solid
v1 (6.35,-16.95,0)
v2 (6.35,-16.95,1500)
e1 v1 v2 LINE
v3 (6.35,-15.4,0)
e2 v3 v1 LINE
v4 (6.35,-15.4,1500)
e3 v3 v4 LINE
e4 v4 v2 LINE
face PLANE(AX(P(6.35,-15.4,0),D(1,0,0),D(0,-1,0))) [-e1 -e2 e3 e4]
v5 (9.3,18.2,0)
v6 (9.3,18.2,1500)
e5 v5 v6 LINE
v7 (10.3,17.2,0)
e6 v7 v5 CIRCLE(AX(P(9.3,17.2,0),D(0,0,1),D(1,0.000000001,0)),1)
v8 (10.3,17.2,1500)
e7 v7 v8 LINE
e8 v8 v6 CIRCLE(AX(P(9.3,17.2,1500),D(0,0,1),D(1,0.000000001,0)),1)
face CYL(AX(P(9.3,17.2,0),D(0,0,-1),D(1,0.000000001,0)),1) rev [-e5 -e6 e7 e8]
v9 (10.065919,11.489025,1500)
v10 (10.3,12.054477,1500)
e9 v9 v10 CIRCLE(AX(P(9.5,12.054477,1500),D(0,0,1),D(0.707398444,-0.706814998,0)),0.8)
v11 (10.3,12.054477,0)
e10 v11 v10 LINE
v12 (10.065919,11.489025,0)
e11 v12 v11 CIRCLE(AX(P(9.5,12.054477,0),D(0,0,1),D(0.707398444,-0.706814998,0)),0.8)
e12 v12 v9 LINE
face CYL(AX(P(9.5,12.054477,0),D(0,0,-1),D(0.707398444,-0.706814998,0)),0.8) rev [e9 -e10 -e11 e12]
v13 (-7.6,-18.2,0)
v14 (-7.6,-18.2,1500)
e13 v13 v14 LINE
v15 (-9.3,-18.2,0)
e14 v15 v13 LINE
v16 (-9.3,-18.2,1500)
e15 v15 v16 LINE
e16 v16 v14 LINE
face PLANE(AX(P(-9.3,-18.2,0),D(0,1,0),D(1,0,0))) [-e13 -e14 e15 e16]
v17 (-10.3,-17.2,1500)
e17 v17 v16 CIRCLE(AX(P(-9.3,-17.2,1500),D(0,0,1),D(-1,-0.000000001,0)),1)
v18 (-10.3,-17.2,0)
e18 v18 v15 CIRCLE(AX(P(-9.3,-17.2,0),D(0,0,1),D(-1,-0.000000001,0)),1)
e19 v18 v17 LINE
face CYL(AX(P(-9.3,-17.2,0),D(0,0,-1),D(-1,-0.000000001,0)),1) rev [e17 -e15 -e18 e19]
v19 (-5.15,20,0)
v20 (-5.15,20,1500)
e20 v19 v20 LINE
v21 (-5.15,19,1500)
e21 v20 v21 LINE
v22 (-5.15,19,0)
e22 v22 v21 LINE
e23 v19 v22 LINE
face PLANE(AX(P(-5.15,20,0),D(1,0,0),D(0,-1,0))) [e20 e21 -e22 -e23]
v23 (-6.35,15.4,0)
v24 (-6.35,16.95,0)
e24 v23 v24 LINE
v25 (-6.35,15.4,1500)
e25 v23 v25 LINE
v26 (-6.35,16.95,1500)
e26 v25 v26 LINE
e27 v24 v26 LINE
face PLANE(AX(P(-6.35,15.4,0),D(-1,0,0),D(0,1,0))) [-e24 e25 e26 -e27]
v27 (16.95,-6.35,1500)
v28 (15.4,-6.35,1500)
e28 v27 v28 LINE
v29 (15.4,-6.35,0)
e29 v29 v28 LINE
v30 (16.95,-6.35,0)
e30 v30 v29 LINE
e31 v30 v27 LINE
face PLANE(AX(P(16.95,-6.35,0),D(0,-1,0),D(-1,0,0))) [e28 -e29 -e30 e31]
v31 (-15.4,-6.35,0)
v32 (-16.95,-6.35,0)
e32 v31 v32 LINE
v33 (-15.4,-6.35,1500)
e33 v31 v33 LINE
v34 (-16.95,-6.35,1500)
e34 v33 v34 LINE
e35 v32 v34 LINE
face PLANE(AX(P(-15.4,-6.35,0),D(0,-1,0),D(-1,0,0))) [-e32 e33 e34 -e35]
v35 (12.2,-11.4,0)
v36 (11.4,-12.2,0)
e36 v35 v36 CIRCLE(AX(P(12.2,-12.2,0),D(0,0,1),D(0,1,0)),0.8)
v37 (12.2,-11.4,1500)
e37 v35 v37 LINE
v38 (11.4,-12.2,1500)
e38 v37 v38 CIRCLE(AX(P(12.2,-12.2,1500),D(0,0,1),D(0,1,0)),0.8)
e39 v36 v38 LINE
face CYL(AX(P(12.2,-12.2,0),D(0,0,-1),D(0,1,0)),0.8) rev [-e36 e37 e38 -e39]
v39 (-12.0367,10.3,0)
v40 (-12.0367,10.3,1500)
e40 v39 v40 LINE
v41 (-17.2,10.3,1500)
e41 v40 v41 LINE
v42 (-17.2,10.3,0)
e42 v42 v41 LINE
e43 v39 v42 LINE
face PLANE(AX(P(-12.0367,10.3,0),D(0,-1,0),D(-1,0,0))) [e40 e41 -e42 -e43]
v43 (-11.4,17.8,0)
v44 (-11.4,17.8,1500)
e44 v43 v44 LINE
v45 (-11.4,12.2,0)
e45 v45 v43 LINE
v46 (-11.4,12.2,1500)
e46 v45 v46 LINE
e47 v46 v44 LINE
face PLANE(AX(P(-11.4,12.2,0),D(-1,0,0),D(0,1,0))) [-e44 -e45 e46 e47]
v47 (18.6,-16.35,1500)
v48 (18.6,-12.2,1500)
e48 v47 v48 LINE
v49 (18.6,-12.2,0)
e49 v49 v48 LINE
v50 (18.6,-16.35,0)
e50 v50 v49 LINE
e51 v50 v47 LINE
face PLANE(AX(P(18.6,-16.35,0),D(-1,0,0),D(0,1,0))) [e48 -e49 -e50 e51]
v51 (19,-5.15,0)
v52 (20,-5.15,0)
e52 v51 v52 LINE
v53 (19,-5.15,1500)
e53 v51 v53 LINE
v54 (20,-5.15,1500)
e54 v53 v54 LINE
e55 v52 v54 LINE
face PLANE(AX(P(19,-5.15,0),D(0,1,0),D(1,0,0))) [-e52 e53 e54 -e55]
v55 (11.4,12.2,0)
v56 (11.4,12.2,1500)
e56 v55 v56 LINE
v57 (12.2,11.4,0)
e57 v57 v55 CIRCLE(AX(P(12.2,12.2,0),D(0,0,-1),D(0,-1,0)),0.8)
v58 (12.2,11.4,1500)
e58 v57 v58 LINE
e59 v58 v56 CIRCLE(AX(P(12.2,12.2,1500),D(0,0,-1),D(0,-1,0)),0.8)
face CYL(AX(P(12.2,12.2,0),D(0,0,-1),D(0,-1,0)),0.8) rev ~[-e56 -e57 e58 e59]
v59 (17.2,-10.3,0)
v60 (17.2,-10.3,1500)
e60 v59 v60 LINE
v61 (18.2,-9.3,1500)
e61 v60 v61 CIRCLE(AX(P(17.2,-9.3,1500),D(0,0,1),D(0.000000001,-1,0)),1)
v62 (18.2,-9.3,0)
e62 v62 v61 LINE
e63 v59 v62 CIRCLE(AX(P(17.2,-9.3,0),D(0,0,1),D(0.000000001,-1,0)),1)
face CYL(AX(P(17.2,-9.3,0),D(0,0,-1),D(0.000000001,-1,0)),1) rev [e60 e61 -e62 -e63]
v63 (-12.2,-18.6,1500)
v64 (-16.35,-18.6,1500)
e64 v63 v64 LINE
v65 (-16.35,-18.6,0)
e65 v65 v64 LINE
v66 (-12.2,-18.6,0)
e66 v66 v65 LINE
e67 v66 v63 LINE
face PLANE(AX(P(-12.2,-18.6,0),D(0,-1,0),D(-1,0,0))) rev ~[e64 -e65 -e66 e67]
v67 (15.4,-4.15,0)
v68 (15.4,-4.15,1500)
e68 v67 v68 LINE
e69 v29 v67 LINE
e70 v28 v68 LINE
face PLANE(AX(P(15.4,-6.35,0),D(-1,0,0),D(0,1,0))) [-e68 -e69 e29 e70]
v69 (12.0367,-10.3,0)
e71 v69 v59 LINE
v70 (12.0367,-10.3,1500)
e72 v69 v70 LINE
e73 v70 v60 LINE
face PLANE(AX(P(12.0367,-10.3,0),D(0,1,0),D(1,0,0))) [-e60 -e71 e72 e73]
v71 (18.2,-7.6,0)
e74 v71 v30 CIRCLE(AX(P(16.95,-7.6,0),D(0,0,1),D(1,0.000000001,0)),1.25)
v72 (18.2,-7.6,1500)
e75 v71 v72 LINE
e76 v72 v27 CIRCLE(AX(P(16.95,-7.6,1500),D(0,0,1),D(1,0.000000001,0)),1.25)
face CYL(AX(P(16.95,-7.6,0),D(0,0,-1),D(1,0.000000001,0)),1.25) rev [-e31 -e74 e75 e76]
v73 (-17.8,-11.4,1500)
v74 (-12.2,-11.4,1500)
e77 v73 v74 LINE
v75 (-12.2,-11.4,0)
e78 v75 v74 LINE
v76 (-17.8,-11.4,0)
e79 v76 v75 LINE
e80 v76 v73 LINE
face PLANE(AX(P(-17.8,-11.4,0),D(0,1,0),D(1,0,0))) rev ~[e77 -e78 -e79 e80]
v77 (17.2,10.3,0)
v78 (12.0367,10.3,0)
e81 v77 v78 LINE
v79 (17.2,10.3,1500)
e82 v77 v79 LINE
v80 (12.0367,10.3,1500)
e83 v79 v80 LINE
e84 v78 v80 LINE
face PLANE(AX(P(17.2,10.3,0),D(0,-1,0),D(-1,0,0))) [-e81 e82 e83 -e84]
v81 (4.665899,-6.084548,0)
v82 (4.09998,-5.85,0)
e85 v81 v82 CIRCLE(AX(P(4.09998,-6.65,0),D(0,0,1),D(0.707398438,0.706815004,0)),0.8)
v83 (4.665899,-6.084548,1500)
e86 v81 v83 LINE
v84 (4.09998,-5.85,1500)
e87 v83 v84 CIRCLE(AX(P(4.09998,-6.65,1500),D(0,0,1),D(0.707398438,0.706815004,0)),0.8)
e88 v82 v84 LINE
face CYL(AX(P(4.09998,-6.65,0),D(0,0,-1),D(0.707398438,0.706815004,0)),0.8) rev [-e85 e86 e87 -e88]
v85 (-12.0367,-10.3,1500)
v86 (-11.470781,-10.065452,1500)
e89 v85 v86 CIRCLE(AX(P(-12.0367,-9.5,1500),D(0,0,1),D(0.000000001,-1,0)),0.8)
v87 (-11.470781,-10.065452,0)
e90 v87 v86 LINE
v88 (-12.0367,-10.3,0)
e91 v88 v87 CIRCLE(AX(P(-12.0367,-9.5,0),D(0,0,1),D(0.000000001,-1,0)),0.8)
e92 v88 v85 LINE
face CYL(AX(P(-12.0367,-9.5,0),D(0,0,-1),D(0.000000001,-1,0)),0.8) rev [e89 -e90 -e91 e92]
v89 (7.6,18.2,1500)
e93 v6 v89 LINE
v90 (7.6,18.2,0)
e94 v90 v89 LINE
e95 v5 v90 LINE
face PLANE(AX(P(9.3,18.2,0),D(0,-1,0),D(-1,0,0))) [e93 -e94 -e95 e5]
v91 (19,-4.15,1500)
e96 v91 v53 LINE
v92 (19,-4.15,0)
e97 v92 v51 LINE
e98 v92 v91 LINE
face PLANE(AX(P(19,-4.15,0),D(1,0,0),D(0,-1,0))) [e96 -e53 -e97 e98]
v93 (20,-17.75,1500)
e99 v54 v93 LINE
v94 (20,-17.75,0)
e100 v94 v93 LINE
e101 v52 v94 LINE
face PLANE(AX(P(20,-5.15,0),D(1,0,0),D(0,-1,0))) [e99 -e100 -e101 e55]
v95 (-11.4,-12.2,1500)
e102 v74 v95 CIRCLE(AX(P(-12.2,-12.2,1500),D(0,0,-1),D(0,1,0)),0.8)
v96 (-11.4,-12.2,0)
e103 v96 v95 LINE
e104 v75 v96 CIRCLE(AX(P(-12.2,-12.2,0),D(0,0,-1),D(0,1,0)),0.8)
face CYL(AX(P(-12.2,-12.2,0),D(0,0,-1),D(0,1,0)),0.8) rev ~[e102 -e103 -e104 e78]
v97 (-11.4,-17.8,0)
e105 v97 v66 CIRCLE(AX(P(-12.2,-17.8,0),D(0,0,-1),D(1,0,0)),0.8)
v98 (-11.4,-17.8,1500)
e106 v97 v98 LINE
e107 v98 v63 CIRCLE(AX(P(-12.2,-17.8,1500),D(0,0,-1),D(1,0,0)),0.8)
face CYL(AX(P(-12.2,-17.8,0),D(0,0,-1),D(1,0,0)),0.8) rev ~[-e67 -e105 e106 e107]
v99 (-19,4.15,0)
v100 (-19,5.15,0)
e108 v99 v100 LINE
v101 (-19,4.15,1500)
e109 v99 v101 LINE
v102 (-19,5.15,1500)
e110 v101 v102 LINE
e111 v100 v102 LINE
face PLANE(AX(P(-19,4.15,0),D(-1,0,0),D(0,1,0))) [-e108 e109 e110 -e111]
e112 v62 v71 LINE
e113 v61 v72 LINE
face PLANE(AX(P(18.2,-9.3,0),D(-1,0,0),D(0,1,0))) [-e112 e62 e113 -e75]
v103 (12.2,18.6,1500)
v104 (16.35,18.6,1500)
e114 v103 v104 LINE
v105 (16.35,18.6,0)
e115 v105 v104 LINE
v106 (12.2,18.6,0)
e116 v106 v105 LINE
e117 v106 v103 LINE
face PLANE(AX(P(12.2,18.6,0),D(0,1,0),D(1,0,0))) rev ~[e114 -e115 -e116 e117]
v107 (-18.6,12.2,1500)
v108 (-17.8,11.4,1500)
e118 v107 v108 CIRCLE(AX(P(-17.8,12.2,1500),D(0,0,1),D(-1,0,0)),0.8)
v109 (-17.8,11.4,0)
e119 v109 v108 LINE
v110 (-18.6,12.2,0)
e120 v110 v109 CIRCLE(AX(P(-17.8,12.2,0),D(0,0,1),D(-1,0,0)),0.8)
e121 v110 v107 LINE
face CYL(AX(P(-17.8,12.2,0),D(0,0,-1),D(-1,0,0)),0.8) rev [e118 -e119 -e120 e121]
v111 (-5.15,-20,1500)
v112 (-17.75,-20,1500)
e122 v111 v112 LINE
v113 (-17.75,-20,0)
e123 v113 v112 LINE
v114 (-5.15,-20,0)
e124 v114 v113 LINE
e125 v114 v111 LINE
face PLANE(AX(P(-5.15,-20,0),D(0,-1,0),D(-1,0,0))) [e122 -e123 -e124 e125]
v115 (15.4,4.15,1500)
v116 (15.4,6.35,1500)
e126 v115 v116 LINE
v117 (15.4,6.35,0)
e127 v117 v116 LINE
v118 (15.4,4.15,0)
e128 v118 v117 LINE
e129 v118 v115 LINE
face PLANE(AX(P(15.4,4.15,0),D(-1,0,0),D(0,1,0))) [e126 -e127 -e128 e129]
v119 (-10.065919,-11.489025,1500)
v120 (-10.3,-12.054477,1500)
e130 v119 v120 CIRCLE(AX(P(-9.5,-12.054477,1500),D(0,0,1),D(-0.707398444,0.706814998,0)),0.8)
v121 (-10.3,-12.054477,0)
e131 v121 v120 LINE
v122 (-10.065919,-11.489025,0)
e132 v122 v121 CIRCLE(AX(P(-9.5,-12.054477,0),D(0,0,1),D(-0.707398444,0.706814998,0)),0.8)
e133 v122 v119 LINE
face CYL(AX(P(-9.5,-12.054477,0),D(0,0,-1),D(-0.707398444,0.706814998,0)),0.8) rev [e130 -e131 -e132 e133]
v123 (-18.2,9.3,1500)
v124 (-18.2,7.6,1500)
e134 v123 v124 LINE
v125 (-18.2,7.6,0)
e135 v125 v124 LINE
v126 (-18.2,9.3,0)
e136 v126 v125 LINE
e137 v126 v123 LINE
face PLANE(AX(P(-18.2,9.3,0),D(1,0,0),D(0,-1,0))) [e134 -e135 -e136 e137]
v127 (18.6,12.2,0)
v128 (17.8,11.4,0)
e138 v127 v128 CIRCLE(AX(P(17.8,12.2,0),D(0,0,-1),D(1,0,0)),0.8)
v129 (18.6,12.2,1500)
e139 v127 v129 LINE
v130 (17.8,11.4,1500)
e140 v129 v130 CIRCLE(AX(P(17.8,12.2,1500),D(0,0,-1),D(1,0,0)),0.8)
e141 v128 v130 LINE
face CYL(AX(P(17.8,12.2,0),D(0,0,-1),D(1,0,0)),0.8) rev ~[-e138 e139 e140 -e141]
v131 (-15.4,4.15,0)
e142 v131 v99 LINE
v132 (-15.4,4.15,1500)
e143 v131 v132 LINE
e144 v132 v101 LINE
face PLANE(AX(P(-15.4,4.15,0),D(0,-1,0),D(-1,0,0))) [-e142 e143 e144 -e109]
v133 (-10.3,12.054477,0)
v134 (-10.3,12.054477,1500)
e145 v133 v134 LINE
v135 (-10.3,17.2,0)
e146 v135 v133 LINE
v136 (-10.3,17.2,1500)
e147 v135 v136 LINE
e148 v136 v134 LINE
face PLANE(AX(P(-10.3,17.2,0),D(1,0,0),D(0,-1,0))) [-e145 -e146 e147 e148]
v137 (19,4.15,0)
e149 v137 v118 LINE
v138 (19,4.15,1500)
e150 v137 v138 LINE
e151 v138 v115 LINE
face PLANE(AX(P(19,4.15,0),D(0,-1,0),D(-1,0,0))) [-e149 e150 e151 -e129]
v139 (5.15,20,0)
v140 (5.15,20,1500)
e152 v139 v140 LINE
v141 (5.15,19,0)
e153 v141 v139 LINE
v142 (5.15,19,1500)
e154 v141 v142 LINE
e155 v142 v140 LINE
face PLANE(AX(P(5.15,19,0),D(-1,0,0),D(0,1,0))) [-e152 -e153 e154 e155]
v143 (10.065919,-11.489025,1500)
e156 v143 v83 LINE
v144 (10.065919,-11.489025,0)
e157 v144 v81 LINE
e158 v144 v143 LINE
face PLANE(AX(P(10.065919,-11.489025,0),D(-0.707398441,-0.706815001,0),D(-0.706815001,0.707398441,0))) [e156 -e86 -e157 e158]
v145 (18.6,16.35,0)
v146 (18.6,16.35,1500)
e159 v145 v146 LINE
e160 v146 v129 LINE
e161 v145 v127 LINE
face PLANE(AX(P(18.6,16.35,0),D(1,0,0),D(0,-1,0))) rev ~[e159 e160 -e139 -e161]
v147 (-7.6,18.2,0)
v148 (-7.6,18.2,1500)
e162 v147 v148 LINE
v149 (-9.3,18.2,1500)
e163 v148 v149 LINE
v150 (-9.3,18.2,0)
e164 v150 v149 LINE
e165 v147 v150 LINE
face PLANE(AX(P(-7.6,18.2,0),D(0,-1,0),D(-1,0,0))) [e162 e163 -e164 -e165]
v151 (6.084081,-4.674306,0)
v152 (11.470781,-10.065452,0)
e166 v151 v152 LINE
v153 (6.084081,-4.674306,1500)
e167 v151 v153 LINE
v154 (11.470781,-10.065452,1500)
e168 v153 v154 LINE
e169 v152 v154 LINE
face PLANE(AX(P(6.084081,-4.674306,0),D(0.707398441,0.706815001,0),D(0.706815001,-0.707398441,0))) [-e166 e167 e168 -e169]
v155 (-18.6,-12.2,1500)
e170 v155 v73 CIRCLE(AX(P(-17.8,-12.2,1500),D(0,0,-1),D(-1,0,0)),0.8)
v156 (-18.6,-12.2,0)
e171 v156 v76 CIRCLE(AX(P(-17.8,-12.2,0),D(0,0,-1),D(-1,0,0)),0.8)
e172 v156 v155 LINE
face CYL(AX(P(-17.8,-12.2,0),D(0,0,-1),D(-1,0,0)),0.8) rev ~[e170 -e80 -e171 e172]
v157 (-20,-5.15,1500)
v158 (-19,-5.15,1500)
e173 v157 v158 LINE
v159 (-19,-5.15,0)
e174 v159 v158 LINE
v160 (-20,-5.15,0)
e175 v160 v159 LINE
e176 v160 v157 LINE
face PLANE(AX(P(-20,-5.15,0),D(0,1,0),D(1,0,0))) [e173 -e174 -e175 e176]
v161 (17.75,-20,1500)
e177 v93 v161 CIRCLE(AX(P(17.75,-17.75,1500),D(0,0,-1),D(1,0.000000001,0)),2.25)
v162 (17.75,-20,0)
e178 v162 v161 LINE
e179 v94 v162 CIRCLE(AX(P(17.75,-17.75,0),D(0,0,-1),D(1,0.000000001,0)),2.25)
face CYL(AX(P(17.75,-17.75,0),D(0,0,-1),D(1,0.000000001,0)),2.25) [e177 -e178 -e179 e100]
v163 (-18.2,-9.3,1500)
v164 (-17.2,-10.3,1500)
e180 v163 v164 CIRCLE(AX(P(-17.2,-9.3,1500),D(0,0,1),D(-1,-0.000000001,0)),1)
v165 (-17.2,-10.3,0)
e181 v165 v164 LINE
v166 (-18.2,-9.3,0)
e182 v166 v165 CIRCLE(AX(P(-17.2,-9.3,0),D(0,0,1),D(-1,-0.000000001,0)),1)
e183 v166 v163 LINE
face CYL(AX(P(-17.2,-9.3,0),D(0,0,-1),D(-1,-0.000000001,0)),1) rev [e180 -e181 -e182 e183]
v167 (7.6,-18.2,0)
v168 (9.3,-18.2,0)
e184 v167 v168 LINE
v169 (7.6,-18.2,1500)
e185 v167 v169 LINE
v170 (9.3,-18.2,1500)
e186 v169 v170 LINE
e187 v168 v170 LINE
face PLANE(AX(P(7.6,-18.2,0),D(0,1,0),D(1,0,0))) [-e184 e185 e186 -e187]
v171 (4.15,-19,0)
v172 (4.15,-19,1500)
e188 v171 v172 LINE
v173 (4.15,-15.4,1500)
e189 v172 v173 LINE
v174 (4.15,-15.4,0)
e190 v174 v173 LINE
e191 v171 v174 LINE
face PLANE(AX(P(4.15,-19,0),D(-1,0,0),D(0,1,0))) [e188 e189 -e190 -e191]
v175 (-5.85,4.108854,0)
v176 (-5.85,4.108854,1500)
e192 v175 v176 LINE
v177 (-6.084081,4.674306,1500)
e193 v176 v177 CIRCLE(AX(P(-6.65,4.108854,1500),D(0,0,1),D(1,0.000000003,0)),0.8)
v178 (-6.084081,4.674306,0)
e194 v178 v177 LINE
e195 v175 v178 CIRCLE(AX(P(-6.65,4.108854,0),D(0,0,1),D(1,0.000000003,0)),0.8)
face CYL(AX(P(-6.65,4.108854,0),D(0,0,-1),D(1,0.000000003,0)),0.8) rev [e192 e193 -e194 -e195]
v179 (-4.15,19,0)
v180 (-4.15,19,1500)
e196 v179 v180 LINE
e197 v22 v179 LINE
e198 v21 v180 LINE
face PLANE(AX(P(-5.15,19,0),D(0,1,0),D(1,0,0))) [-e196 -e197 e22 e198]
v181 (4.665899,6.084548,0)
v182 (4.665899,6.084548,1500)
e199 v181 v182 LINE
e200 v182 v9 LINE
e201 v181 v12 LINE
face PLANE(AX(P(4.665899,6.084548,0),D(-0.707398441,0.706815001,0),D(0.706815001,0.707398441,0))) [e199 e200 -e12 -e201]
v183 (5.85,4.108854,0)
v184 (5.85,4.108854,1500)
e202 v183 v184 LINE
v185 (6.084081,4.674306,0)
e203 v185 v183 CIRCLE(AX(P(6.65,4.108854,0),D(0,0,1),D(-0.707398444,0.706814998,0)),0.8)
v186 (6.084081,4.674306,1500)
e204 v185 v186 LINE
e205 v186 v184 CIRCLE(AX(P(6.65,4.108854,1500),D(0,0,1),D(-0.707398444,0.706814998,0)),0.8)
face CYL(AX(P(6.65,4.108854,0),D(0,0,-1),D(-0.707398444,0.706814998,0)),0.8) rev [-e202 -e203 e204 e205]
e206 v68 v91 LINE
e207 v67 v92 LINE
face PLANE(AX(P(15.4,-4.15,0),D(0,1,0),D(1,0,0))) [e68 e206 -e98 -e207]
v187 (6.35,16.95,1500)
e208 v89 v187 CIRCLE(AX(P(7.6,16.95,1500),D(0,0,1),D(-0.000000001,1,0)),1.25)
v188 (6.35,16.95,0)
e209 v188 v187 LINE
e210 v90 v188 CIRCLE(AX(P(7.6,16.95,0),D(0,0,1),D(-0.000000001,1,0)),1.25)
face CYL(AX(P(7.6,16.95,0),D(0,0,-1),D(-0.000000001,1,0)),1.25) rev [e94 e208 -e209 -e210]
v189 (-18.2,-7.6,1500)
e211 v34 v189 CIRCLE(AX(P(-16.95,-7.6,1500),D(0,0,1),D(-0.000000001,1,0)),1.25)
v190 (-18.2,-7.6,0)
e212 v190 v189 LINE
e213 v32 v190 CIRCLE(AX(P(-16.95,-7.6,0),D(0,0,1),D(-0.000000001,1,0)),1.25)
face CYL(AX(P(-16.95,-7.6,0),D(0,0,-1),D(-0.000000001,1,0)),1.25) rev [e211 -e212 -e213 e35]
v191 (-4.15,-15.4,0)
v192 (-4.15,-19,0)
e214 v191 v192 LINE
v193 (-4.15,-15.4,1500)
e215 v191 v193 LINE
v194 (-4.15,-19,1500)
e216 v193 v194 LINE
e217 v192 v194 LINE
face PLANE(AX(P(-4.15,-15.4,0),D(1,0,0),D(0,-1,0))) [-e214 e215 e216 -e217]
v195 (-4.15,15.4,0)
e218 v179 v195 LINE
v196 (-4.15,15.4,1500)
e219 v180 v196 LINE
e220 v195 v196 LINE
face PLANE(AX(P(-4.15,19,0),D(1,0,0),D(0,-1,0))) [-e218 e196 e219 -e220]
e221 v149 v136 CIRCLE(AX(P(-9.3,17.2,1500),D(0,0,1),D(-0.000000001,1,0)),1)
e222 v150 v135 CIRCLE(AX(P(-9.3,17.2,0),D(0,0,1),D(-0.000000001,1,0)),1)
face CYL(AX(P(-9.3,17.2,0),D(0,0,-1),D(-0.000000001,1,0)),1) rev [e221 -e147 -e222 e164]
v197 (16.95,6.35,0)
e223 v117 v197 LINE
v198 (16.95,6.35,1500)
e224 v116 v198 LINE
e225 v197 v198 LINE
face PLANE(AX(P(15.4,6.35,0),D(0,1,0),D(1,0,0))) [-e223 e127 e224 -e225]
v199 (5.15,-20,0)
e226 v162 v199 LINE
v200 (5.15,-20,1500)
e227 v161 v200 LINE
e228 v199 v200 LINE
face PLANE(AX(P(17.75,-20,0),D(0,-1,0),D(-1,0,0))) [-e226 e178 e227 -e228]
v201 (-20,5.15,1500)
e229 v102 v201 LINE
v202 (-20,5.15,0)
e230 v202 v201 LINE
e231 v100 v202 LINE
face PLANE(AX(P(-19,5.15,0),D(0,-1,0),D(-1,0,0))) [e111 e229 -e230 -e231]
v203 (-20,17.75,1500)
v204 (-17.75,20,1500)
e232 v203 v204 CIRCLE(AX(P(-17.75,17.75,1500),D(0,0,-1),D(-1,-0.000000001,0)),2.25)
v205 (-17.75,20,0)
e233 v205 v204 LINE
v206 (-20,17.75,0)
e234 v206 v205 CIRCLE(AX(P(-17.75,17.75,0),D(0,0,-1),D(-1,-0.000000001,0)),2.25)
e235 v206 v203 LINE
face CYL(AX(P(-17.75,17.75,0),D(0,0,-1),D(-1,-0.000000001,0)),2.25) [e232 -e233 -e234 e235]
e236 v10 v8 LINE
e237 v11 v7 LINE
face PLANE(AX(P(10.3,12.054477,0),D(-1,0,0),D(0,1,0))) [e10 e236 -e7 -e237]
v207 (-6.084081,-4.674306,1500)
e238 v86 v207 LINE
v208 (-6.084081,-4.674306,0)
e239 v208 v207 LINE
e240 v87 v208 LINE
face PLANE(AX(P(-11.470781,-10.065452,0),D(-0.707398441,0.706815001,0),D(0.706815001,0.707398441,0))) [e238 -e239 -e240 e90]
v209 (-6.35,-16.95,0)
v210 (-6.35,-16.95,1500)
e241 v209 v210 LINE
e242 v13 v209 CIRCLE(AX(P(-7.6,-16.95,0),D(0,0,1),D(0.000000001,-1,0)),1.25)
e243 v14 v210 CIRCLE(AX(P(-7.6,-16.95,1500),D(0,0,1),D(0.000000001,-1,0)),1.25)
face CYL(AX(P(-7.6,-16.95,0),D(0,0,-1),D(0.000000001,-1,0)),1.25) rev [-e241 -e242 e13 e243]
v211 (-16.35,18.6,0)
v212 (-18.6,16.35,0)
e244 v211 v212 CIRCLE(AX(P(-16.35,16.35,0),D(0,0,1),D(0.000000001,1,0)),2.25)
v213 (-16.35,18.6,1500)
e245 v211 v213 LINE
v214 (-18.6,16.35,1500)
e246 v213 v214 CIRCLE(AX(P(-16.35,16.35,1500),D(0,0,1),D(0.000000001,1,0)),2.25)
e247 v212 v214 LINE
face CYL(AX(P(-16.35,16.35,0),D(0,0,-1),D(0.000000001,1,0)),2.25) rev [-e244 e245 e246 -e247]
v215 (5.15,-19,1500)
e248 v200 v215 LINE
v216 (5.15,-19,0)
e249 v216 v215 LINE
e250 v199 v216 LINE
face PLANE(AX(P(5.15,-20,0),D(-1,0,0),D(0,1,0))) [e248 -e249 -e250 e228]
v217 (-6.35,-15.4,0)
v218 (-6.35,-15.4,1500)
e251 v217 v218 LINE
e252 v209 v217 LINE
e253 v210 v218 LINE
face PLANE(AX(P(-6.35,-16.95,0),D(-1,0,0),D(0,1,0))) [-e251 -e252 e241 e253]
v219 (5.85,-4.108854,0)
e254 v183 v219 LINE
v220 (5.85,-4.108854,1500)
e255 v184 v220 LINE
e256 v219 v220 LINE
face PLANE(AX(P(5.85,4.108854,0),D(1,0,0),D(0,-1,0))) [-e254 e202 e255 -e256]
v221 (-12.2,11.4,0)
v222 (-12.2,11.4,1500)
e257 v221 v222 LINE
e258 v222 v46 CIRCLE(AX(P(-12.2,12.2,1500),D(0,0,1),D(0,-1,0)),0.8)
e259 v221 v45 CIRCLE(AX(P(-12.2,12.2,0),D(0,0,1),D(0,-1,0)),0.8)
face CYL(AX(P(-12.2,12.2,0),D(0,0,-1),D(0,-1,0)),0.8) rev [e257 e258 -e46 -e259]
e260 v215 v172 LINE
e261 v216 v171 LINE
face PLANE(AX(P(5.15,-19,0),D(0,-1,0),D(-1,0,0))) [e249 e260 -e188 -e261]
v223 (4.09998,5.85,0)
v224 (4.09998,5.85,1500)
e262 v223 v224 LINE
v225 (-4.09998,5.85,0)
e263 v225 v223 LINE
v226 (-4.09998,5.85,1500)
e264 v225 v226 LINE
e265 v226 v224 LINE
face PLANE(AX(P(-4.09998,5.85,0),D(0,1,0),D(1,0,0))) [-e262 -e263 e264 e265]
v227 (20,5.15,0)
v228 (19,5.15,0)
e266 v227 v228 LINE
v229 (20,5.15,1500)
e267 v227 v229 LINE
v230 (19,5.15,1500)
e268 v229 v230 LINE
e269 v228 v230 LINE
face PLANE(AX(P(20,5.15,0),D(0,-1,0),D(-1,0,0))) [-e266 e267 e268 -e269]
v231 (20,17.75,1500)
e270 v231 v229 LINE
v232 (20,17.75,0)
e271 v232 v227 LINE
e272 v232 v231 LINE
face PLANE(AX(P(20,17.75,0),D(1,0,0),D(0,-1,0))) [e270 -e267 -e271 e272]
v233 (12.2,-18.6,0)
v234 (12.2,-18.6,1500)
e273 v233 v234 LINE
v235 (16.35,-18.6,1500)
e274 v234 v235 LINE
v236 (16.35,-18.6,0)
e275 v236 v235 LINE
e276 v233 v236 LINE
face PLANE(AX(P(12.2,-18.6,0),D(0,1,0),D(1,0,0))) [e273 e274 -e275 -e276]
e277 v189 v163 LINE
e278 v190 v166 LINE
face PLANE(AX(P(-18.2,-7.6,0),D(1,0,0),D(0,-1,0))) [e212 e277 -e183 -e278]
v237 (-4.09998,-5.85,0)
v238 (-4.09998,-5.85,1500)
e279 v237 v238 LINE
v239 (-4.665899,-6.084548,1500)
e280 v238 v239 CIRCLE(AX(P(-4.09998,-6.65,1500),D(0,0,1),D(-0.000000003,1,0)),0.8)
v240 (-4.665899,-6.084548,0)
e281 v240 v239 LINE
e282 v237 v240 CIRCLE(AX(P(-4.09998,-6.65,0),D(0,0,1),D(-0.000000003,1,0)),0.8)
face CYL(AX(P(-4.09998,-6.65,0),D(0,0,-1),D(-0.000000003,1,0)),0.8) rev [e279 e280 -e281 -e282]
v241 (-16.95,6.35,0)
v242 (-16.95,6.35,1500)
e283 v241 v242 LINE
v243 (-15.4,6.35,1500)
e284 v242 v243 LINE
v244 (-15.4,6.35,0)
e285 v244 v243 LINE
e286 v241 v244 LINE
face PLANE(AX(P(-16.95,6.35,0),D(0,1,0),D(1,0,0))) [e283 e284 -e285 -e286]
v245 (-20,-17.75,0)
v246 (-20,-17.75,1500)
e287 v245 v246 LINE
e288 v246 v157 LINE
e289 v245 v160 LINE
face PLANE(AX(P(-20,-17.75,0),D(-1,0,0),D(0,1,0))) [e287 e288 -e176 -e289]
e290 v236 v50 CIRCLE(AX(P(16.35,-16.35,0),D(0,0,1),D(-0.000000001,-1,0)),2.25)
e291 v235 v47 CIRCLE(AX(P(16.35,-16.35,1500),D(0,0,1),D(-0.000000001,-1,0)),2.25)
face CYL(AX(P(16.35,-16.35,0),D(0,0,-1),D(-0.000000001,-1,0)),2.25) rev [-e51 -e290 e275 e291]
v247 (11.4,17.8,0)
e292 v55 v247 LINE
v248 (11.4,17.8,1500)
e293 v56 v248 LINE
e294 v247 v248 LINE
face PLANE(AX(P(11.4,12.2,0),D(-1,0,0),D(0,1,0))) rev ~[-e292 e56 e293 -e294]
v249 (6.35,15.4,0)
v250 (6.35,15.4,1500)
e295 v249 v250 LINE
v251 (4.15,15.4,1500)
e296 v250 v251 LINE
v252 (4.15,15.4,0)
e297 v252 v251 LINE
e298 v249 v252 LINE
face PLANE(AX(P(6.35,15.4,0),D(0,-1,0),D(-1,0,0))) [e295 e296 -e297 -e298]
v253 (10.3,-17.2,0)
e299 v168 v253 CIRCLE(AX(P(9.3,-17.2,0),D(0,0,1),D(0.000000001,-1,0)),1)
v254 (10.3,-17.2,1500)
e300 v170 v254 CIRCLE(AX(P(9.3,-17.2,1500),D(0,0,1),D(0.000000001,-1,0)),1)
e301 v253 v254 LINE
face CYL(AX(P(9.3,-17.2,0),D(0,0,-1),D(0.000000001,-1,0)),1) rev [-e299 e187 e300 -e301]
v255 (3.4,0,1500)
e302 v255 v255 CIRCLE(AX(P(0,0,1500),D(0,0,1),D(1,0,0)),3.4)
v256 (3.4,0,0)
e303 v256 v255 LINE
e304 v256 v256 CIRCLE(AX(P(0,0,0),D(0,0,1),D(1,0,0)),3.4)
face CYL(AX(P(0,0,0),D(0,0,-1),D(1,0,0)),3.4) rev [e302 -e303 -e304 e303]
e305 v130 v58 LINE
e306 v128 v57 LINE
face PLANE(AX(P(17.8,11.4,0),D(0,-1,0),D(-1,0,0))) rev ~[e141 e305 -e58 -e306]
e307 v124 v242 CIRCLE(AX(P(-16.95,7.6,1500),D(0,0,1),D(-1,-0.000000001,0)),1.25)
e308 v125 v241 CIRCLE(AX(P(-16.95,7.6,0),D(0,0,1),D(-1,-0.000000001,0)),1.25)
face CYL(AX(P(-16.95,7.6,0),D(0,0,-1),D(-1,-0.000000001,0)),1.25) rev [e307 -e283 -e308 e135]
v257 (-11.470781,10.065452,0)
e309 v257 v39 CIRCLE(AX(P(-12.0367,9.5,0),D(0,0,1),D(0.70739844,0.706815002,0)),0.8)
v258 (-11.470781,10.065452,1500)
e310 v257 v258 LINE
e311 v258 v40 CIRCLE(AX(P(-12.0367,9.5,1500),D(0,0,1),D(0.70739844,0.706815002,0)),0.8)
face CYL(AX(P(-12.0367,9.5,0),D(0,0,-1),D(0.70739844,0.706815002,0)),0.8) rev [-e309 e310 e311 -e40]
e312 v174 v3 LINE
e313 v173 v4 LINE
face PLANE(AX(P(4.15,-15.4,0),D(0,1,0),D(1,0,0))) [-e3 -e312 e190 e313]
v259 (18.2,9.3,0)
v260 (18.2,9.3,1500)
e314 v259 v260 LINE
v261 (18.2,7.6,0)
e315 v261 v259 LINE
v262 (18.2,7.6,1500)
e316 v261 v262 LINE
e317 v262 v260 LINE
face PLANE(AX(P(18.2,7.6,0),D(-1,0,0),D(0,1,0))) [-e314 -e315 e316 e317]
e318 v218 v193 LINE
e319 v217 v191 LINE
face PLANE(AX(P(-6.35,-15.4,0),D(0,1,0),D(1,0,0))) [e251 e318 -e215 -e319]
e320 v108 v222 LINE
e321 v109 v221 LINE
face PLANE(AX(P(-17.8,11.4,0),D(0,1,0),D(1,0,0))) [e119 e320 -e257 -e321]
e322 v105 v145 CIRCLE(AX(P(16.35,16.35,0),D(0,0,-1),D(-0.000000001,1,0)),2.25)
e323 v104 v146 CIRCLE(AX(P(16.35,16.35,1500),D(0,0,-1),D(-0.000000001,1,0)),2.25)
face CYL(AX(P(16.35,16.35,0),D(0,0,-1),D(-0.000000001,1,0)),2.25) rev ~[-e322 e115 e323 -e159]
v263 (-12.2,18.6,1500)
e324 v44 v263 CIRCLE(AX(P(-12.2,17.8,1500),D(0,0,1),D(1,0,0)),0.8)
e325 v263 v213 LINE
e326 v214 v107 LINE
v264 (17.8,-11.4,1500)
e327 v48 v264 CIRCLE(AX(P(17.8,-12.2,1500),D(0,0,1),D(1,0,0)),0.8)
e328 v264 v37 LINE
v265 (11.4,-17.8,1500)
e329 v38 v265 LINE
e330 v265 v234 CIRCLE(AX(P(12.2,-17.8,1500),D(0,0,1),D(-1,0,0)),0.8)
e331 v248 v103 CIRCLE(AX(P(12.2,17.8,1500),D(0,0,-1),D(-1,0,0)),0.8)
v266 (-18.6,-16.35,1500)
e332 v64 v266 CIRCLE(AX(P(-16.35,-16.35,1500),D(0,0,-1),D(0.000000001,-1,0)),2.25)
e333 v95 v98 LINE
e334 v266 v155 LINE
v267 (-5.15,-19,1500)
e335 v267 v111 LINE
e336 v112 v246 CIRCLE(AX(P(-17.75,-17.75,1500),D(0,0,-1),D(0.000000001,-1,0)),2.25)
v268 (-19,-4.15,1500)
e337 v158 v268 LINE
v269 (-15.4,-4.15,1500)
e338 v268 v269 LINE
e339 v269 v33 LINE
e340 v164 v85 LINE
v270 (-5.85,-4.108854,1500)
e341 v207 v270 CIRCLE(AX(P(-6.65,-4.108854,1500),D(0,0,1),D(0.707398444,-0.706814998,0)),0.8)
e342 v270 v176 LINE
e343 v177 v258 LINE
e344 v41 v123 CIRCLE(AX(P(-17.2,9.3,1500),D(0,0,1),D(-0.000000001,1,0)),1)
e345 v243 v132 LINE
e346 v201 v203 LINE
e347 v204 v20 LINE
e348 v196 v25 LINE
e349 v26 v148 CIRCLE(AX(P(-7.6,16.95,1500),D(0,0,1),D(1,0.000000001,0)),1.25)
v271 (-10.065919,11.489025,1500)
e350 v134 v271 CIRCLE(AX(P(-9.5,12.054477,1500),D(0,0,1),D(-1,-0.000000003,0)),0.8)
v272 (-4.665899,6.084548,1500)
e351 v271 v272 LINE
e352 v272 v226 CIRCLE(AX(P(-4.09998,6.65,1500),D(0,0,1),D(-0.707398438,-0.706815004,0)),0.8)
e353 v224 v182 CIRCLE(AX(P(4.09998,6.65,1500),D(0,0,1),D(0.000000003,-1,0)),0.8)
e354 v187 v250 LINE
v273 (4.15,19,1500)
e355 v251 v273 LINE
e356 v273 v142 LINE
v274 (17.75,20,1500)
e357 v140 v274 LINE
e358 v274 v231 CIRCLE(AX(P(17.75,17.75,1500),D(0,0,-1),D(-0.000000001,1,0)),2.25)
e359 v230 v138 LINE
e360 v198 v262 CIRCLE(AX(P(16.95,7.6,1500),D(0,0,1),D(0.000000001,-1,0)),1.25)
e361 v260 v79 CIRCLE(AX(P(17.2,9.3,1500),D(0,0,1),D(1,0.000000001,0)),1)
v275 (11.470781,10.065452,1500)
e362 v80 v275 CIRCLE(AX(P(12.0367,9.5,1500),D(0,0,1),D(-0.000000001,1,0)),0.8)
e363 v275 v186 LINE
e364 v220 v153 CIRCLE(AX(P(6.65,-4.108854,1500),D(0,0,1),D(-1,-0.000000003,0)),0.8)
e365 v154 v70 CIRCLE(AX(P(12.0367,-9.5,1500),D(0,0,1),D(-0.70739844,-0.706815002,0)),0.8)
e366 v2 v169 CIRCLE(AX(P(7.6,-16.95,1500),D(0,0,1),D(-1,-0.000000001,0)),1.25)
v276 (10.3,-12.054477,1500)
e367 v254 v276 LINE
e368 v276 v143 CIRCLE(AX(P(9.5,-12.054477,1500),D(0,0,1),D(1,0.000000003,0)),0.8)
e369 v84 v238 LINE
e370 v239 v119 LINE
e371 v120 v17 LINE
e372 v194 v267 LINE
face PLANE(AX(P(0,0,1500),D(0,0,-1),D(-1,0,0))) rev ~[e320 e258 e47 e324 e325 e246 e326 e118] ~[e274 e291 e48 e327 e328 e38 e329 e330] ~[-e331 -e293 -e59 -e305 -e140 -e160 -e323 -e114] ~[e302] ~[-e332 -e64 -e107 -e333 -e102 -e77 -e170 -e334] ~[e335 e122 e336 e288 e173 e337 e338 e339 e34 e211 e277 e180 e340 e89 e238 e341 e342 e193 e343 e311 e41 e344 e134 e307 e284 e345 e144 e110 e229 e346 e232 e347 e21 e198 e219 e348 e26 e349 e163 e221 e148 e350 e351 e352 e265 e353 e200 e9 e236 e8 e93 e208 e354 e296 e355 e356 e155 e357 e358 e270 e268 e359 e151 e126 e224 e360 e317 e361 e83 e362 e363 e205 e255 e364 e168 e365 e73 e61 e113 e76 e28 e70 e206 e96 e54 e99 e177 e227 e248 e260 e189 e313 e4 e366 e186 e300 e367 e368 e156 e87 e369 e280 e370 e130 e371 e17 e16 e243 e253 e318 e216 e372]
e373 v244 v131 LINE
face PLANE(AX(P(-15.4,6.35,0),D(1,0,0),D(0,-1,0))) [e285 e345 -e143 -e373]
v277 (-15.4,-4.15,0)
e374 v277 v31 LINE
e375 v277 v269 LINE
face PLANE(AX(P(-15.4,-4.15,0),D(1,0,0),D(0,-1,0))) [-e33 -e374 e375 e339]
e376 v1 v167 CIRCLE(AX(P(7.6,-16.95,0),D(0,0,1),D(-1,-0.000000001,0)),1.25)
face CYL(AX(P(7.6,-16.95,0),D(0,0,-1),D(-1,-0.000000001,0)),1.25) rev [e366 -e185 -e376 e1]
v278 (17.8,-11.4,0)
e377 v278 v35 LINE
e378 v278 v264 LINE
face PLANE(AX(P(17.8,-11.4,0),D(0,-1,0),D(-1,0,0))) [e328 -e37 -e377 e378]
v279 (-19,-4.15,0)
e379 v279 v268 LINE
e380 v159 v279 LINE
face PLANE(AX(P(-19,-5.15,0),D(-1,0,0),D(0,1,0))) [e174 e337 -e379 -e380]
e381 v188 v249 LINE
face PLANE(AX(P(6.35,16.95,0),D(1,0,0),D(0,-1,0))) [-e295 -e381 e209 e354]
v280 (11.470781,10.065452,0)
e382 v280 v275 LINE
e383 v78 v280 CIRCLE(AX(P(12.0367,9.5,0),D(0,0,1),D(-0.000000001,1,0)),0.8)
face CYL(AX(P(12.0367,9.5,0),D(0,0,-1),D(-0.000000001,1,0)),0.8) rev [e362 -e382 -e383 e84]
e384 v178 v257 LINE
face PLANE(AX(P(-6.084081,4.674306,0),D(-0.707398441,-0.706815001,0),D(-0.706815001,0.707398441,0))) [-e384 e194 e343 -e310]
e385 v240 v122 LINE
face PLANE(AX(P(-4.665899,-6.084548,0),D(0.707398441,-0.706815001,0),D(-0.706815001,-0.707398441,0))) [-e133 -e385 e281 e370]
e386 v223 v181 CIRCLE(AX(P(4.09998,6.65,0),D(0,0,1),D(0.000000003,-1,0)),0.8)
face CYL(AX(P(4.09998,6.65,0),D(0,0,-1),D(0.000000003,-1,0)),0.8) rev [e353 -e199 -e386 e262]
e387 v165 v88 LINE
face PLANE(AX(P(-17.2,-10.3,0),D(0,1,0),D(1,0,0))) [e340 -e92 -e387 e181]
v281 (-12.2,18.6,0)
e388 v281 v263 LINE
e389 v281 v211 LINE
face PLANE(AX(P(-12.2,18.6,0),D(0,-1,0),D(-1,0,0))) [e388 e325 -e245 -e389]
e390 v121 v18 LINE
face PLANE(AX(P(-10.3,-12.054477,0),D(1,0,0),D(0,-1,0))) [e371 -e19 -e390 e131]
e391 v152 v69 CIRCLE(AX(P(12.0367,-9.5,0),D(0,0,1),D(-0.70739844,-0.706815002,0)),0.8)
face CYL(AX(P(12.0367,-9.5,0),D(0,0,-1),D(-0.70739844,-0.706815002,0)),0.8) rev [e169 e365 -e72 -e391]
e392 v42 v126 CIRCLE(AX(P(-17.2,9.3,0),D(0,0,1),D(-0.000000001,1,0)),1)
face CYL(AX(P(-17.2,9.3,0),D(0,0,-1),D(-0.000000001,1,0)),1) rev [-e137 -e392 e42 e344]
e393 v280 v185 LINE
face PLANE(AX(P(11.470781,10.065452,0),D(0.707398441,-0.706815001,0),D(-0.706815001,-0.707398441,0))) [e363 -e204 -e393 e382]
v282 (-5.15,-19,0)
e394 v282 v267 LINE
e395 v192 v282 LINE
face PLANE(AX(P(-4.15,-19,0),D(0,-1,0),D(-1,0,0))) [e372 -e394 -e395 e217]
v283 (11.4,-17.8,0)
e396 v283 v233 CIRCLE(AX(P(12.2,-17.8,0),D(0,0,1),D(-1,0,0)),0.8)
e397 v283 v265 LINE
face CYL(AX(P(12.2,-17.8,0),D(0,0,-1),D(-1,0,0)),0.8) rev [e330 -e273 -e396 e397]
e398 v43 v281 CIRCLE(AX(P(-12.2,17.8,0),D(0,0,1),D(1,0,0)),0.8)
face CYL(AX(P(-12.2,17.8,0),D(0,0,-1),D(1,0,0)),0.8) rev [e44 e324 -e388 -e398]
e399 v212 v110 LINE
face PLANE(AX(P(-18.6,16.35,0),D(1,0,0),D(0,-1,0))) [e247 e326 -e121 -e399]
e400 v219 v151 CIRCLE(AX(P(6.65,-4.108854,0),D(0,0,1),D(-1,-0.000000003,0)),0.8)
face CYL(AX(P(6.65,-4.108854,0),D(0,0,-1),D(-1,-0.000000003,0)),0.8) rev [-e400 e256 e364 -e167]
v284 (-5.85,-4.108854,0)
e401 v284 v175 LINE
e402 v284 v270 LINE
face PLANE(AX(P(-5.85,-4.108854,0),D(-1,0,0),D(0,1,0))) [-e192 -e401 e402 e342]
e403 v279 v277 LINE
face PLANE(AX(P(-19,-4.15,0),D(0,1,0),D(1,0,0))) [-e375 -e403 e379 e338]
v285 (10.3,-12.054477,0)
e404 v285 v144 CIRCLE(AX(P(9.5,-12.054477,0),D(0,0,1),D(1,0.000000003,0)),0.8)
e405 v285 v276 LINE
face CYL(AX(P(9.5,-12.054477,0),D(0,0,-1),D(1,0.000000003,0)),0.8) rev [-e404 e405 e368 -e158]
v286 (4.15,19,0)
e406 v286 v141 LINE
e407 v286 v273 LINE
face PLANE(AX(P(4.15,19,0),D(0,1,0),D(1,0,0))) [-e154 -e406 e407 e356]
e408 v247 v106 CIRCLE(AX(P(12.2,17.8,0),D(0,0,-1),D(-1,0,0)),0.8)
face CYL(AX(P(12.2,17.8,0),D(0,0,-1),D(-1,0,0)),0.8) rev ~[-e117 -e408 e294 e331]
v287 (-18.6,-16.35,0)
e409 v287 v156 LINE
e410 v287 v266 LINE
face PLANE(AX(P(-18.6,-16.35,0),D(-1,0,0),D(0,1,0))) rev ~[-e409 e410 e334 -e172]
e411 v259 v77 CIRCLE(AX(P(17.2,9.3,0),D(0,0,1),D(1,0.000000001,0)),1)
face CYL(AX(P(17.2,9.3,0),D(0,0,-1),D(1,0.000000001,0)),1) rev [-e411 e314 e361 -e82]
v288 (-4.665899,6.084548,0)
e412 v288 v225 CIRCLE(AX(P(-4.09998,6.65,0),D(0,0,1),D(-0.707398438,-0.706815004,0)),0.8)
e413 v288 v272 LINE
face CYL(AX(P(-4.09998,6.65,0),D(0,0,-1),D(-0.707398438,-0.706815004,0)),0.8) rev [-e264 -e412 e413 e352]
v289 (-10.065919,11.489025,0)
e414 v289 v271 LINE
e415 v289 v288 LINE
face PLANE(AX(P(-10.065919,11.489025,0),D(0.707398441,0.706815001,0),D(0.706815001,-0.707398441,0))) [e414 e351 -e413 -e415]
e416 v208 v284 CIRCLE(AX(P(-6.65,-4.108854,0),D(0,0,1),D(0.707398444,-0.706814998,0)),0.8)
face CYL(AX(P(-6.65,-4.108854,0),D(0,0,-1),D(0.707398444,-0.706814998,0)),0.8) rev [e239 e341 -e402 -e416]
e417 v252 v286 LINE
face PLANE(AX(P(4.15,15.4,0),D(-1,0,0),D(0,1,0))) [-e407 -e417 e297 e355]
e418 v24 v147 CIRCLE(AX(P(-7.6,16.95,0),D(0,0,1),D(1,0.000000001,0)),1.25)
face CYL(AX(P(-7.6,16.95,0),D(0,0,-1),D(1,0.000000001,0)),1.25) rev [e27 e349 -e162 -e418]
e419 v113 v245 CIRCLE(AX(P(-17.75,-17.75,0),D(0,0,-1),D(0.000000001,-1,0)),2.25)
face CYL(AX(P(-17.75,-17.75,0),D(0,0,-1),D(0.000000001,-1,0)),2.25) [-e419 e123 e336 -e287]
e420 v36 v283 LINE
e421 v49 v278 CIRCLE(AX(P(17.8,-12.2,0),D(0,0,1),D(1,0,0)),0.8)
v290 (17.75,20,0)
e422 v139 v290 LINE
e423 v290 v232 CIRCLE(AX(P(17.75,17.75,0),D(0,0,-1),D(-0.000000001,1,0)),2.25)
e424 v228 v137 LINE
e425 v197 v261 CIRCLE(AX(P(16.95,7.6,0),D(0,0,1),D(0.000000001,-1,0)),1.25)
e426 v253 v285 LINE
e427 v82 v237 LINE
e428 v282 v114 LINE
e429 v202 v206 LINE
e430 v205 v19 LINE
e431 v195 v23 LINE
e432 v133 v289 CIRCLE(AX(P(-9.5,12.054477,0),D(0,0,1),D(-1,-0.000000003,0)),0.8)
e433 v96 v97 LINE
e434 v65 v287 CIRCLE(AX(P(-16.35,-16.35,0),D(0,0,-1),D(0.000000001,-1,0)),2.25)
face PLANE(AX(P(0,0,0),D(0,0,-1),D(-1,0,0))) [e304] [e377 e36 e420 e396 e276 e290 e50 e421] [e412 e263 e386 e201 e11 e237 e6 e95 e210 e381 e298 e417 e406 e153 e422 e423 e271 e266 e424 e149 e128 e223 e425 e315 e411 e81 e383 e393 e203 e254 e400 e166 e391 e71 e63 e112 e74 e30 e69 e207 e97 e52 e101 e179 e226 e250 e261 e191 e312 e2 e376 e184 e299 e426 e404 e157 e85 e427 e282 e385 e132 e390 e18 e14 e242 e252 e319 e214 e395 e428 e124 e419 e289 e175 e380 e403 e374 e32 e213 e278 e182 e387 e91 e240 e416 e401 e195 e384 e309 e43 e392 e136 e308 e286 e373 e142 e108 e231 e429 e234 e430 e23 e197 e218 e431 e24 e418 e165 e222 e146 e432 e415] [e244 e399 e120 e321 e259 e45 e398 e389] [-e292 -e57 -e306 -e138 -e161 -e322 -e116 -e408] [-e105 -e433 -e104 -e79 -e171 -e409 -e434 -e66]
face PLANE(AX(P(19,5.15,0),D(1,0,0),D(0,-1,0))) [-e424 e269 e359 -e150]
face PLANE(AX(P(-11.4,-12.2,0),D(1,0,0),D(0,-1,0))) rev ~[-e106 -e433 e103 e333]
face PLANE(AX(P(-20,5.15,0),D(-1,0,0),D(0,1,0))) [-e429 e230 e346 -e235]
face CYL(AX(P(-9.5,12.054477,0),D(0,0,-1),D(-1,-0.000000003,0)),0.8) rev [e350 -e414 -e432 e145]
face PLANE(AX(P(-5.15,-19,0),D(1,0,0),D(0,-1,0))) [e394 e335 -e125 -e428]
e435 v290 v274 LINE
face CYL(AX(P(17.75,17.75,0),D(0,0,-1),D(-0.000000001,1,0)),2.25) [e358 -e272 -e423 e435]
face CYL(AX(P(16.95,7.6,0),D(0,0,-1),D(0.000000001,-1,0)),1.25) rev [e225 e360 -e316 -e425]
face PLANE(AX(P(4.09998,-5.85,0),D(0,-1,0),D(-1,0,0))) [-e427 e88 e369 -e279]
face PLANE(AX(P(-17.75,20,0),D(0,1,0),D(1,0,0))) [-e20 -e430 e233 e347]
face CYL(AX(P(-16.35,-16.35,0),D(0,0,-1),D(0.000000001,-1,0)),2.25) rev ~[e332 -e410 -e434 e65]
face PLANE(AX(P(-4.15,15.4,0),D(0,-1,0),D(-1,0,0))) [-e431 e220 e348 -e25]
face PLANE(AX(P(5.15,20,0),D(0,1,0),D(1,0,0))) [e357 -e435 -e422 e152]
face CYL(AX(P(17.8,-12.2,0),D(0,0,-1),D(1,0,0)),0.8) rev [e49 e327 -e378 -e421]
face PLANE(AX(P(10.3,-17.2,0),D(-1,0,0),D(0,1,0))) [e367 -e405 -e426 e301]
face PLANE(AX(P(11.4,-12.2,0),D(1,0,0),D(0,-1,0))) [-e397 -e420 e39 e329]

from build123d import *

# Parameters (mm, degrees)
SKETCH1_R           = 3.4
BOSS_EXTRUDE1_DEPTH = 1500


with BuildPart() as part:
    # Sketch1 → Boss-Extrude1 (new body)
    with BuildSketch(Plane.XY):
        with BuildLine():
            Line((20, 17.75), (20, 5.15))
            Line((20, 5.15), (19, 5.15))
            Line((19, 5.15), (19, 4.15))
            Line((19, 4.15), (15.4, 4.15))
            Line((15.4, 4.15), (15.4, 6.35))
            Line((15.4, 6.35), (16.95, 6.35))
            ThreePointArc((16.95, 6.35), (17.833883476, 6.716116524), (18.2, 7.6))
            Line((18.2, 7.6), (18.2, 9.3))
            ThreePointArc((18.2, 9.3), (17.907106781, 10.007106781), (17.2, 10.3))
            Line((17.2, 10.3), (12.03669957, 10.3))
            ThreePointArc((12.03669957, 10.3), (11.73040037, 10.239040459), (11.470780817, 10.065452001))
            Line((11.470780817, 10.065452001), (6.084081247, 4.674305984))
            ThreePointArc((6.084081247, 4.674305984), (5.910833239, 4.414848262), (5.85, 4.108853983))
            Line((5.85, 4.108853983), (5.85, -4.108853983))
            ThreePointArc((5.85, -4.108853983), (5.910833239, -4.414848262), (6.084081247, -4.674305984))
            Line((6.084081247, -4.674305984), (11.470780817, -10.065452001))
            ThreePointArc((11.470780817, -10.065452001), (11.73040037, -10.239040459), (12.03669957, -10.3))
            Line((12.03669957, -10.3), (17.2, -10.3))
            ThreePointArc((17.2, -10.3), (17.907106781, -10.007106781), (18.2, -9.3))
            Line((18.2, -9.3), (18.2, -7.6))
            ThreePointArc((18.2, -7.6), (17.833883476, -6.716116524), (16.95, -6.35))
            Line((16.95, -6.35), (15.4, -6.35))
            Line((15.4, -6.35), (15.4, -4.15))
            Line((15.4, -4.15), (19, -4.15))
            Line((19, -4.15), (19, -5.15))
            Line((19, -5.15), (20, -5.15))
            Line((20, -5.15), (20, -17.75))
            ThreePointArc((20, -17.75), (19.340990258, -19.340990258), (17.75, -20))
            Line((17.75, -20), (5.15, -20))
            Line((5.15, -20), (5.15, -19))
            Line((5.15, -19), (4.15, -19))
            Line((4.15, -19), (4.15, -15.4))
            Line((4.15, -15.4), (6.35, -15.4))
            Line((6.35, -15.4), (6.35, -16.95))
            ThreePointArc((6.35, -16.95), (6.716116524, -17.833883476), (7.6, -18.2))
            Line((7.6, -18.2), (9.3, -18.2))
            ThreePointArc((9.3, -18.2), (10.007106781, -17.907106781), (10.3, -17.2))
            Line((10.3, -17.2), (10.3, -12.054477022))
            ThreePointArc((10.3, -12.054477022), (10.239166761, -11.748482743), (10.065918753, -11.489025021))
            Line((10.065918753, -11.489025021), (4.665899173, -6.084547999))
            ThreePointArc((4.665899173, -6.084547999), (4.406279619, -5.910959541), (4.09998042, -5.85))
            Line((4.09998042, -5.85), (-4.09998042, -5.85))
            ThreePointArc((-4.09998042, -5.85), (-4.406279619, -5.910959541), (-4.665899173, -6.084547999))
            Line((-4.665899173, -6.084547999), (-10.065918753, -11.489025021))
            ThreePointArc((-10.065918753, -11.489025021), (-10.239166761, -11.748482743), (-10.3, -12.054477022))
            Line((-10.3, -12.054477022), (-10.3, -17.2))
            ThreePointArc((-10.3, -17.2), (-10.007106781, -17.907106781), (-9.3, -18.2))
            Line((-9.3, -18.2), (-7.6, -18.2))
            ThreePointArc((-7.6, -18.2), (-6.716116524, -17.833883476), (-6.35, -16.95))
            Line((-6.35, -16.95), (-6.35, -15.4))
            Line((-6.35, -15.4), (-4.15, -15.4))
            Line((-4.15, -15.4), (-4.15, -19))
            Line((-4.15, -19), (-5.15, -19))
            Line((-5.15, -19), (-5.15, -20))
            Line((-5.15, -20), (-17.75, -20))
            ThreePointArc((-17.75, -20), (-19.340990258, -19.340990258), (-20, -17.75))
            Line((-20, -17.75), (-20, -5.15))
            Line((-20, -5.15), (-19, -5.15))
            Line((-19, -5.15), (-19, -4.15))
            Line((-19, -4.15), (-15.4, -4.15))
            Line((-15.4, -4.15), (-15.4, -6.35))
            Line((-15.4, -6.35), (-16.95, -6.35))
            ThreePointArc((-16.95, -6.35), (-17.833883476, -6.716116524), (-18.2, -7.6))
            Line((-18.2, -7.6), (-18.2, -9.3))
            ThreePointArc((-18.2, -9.3), (-17.907106781, -10.007106781), (-17.2, -10.3))
            Line((-17.2, -10.3), (-12.03669957, -10.3))
            ThreePointArc((-12.03669957, -10.3), (-11.73040037, -10.239040459), (-11.470780817, -10.065452001))
            Line((-11.470780817, -10.065452001), (-6.084081247, -4.674305984))
            ThreePointArc((-6.084081247, -4.674305984), (-5.910833239, -4.414848262), (-5.85, -4.108853983))
            Line((-5.85, -4.108853983), (-5.85, 4.108853983))
            ThreePointArc((-5.85, 4.108853983), (-5.910833239, 4.414848262), (-6.084081247, 4.674305984))
            Line((-6.084081247, 4.674305984), (-11.470780817, 10.065452001))
            ThreePointArc((-11.470780817, 10.065452001), (-11.73040037, 10.239040459), (-12.03669957, 10.3))
            Line((-12.03669957, 10.3), (-17.2, 10.3))
            ThreePointArc((-17.2, 10.3), (-17.907106781, 10.007106781), (-18.2, 9.3))
            Line((-18.2, 9.3), (-18.2, 7.6))
            ThreePointArc((-18.2, 7.6), (-17.833883476, 6.716116524), (-16.95, 6.35))
            Line((-16.95, 6.35), (-15.4, 6.35))
            Line((-15.4, 6.35), (-15.4, 4.15))
            Line((-15.4, 4.15), (-19, 4.15))
            Line((-19, 4.15), (-19, 5.15))
            Line((-19, 5.15), (-20, 5.15))
            Line((-20, 5.15), (-20, 17.75))
            ThreePointArc((-20, 17.75), (-19.340990258, 19.340990258), (-17.75, 20))
            Line((-17.75, 20), (-5.15, 20))
            Line((-5.15, 20), (-5.15, 19))
            Line((-5.15, 19), (-4.15, 19))
            Line((-4.15, 19), (-4.15, 15.4))
            Line((-4.15, 15.4), (-6.35, 15.4))
            Line((-6.35, 15.4), (-6.35, 16.95))
            ThreePointArc((-6.35, 16.95), (-6.716116524, 17.833883476), (-7.6, 18.2))
            Line((-7.6, 18.2), (-9.3, 18.2))
            ThreePointArc((-9.3, 18.2), (-10.007106781, 17.907106781), (-10.3, 17.2))
            Line((-10.3, 17.2), (-10.3, 12.054477022))
            ThreePointArc((-10.3, 12.054477022), (-10.239166761, 11.748482743), (-10.065918753, 11.489025021))
            Line((-10.065918753, 11.489025021), (-4.665899173, 6.084547999))
            ThreePointArc((-4.665899173, 6.084547999), (-4.406279619, 5.910959541), (-4.09998042, 5.85))
            Line((-4.09998042, 5.85), (4.09998042, 5.85))
            ThreePointArc((4.09998042, 5.85), (4.406279619, 5.910959541), (4.665899173, 6.084547999))
            Line((4.665899173, 6.084547999), (10.065918753, 11.489025021))
            ThreePointArc((10.065918753, 11.489025021), (10.239166761, 11.748482743), (10.3, 12.054477022))
            Line((10.3, 12.054477022), (10.3, 17.2))
            ThreePointArc((10.3, 17.2), (10.007106781, 17.907106781), (9.3, 18.2))
            Line((9.3, 18.2), (7.6, 18.2))
            ThreePointArc((7.6, 18.2), (6.716116524, 17.833883476), (6.35, 16.95))
            Line((6.35, 16.95), (6.35, 15.4))
            Line((6.35, 15.4), (4.15, 15.4))
            Line((4.15, 15.4), (4.15, 19))
            Line((4.15, 19), (5.15, 19))
            Line((5.15, 19), (5.15, 20))
            Line((5.15, 20), (17.75, 20))
            ThreePointArc((17.75, 20), (19.340990258, 19.340990258), (20, 17.75))
        make_face()
        Circle(SKETCH1_R, mode=Mode.SUBTRACT)
        with BuildLine():
            Line((18.6, 16.35), (18.6, 12.2))
            ThreePointArc((18.6, 12.2), (18.365685425, 11.634314575), (17.8, 11.4))
            Line((17.8, 11.4), (12.2, 11.4))
            ThreePointArc((12.2, 11.4), (11.634314575, 11.634314575), (11.4, 12.2))
            Line((11.4, 12.2), (11.4, 17.8))
            ThreePointArc((11.4, 17.8), (11.634314575, 18.365685425), (12.2, 18.6))
            Line((12.2, 18.6), (16.35, 18.6))
            ThreePointArc((16.35, 18.6), (17.940990258, 17.940990258), (18.6, 16.35))
        make_face(mode=Mode.SUBTRACT)
        with BuildLine():
            Line((-12.2, 18.6), (-16.35, 18.6))
            ThreePointArc((-16.35, 18.6), (-17.940990258, 17.940990258), (-18.6, 16.35))
            Line((-18.6, 16.35), (-18.6, 12.2))
            ThreePointArc((-18.6, 12.2), (-18.365685425, 11.634314575), (-17.8, 11.4))
            Line((-17.8, 11.4), (-12.2, 11.4))
            ThreePointArc((-12.2, 11.4), (-11.634314575, 11.634314575), (-11.4, 12.2))
            Line((-11.4, 12.2), (-11.4, 17.8))
            ThreePointArc((-11.4, 17.8), (-11.634314575, 18.365685425), (-12.2, 18.6))
        make_face(mode=Mode.SUBTRACT)
        with BuildLine():
            Line((-18.6, -16.35), (-18.6, -12.2))
            ThreePointArc((-18.6, -12.2), (-18.365685425, -11.634314575), (-17.8, -11.4))
            Line((-17.8, -11.4), (-12.2, -11.4))
            ThreePointArc((-12.2, -11.4), (-11.634314575, -11.634314575), (-11.4, -12.2))
            Line((-11.4, -12.2), (-11.4, -17.8))
            ThreePointArc((-11.4, -17.8), (-11.634314575, -18.365685425), (-12.2, -18.6))
            Line((-12.2, -18.6), (-16.35, -18.6))
            ThreePointArc((-16.35, -18.6), (-17.940990258, -17.940990258), (-18.6, -16.35))
        make_face(mode=Mode.SUBTRACT)
        with BuildLine():
            Line((12.2, -18.6), (16.35, -18.6))
            ThreePointArc((16.35, -18.6), (17.940990258, -17.940990258), (18.6, -16.35))
            Line((18.6, -16.35), (18.6, -12.2))
            ThreePointArc((18.6, -12.2), (18.365685425, -11.634314575), (17.8, -11.4))
            Line((17.8, -11.4), (12.2, -11.4))
            ThreePointArc((12.2, -11.4), (11.634314575, -11.634314575), (11.4, -12.2))
            Line((11.4, -12.2), (11.4, -17.8))
            ThreePointArc((11.4, -17.8), (11.634314575, -18.365685425), (12.2, -18.6))
        make_face(mode=Mode.SUBTRACT)
    extrude(amount=BOSS_EXTRUDE1_DEPTH)


solid = part.part
